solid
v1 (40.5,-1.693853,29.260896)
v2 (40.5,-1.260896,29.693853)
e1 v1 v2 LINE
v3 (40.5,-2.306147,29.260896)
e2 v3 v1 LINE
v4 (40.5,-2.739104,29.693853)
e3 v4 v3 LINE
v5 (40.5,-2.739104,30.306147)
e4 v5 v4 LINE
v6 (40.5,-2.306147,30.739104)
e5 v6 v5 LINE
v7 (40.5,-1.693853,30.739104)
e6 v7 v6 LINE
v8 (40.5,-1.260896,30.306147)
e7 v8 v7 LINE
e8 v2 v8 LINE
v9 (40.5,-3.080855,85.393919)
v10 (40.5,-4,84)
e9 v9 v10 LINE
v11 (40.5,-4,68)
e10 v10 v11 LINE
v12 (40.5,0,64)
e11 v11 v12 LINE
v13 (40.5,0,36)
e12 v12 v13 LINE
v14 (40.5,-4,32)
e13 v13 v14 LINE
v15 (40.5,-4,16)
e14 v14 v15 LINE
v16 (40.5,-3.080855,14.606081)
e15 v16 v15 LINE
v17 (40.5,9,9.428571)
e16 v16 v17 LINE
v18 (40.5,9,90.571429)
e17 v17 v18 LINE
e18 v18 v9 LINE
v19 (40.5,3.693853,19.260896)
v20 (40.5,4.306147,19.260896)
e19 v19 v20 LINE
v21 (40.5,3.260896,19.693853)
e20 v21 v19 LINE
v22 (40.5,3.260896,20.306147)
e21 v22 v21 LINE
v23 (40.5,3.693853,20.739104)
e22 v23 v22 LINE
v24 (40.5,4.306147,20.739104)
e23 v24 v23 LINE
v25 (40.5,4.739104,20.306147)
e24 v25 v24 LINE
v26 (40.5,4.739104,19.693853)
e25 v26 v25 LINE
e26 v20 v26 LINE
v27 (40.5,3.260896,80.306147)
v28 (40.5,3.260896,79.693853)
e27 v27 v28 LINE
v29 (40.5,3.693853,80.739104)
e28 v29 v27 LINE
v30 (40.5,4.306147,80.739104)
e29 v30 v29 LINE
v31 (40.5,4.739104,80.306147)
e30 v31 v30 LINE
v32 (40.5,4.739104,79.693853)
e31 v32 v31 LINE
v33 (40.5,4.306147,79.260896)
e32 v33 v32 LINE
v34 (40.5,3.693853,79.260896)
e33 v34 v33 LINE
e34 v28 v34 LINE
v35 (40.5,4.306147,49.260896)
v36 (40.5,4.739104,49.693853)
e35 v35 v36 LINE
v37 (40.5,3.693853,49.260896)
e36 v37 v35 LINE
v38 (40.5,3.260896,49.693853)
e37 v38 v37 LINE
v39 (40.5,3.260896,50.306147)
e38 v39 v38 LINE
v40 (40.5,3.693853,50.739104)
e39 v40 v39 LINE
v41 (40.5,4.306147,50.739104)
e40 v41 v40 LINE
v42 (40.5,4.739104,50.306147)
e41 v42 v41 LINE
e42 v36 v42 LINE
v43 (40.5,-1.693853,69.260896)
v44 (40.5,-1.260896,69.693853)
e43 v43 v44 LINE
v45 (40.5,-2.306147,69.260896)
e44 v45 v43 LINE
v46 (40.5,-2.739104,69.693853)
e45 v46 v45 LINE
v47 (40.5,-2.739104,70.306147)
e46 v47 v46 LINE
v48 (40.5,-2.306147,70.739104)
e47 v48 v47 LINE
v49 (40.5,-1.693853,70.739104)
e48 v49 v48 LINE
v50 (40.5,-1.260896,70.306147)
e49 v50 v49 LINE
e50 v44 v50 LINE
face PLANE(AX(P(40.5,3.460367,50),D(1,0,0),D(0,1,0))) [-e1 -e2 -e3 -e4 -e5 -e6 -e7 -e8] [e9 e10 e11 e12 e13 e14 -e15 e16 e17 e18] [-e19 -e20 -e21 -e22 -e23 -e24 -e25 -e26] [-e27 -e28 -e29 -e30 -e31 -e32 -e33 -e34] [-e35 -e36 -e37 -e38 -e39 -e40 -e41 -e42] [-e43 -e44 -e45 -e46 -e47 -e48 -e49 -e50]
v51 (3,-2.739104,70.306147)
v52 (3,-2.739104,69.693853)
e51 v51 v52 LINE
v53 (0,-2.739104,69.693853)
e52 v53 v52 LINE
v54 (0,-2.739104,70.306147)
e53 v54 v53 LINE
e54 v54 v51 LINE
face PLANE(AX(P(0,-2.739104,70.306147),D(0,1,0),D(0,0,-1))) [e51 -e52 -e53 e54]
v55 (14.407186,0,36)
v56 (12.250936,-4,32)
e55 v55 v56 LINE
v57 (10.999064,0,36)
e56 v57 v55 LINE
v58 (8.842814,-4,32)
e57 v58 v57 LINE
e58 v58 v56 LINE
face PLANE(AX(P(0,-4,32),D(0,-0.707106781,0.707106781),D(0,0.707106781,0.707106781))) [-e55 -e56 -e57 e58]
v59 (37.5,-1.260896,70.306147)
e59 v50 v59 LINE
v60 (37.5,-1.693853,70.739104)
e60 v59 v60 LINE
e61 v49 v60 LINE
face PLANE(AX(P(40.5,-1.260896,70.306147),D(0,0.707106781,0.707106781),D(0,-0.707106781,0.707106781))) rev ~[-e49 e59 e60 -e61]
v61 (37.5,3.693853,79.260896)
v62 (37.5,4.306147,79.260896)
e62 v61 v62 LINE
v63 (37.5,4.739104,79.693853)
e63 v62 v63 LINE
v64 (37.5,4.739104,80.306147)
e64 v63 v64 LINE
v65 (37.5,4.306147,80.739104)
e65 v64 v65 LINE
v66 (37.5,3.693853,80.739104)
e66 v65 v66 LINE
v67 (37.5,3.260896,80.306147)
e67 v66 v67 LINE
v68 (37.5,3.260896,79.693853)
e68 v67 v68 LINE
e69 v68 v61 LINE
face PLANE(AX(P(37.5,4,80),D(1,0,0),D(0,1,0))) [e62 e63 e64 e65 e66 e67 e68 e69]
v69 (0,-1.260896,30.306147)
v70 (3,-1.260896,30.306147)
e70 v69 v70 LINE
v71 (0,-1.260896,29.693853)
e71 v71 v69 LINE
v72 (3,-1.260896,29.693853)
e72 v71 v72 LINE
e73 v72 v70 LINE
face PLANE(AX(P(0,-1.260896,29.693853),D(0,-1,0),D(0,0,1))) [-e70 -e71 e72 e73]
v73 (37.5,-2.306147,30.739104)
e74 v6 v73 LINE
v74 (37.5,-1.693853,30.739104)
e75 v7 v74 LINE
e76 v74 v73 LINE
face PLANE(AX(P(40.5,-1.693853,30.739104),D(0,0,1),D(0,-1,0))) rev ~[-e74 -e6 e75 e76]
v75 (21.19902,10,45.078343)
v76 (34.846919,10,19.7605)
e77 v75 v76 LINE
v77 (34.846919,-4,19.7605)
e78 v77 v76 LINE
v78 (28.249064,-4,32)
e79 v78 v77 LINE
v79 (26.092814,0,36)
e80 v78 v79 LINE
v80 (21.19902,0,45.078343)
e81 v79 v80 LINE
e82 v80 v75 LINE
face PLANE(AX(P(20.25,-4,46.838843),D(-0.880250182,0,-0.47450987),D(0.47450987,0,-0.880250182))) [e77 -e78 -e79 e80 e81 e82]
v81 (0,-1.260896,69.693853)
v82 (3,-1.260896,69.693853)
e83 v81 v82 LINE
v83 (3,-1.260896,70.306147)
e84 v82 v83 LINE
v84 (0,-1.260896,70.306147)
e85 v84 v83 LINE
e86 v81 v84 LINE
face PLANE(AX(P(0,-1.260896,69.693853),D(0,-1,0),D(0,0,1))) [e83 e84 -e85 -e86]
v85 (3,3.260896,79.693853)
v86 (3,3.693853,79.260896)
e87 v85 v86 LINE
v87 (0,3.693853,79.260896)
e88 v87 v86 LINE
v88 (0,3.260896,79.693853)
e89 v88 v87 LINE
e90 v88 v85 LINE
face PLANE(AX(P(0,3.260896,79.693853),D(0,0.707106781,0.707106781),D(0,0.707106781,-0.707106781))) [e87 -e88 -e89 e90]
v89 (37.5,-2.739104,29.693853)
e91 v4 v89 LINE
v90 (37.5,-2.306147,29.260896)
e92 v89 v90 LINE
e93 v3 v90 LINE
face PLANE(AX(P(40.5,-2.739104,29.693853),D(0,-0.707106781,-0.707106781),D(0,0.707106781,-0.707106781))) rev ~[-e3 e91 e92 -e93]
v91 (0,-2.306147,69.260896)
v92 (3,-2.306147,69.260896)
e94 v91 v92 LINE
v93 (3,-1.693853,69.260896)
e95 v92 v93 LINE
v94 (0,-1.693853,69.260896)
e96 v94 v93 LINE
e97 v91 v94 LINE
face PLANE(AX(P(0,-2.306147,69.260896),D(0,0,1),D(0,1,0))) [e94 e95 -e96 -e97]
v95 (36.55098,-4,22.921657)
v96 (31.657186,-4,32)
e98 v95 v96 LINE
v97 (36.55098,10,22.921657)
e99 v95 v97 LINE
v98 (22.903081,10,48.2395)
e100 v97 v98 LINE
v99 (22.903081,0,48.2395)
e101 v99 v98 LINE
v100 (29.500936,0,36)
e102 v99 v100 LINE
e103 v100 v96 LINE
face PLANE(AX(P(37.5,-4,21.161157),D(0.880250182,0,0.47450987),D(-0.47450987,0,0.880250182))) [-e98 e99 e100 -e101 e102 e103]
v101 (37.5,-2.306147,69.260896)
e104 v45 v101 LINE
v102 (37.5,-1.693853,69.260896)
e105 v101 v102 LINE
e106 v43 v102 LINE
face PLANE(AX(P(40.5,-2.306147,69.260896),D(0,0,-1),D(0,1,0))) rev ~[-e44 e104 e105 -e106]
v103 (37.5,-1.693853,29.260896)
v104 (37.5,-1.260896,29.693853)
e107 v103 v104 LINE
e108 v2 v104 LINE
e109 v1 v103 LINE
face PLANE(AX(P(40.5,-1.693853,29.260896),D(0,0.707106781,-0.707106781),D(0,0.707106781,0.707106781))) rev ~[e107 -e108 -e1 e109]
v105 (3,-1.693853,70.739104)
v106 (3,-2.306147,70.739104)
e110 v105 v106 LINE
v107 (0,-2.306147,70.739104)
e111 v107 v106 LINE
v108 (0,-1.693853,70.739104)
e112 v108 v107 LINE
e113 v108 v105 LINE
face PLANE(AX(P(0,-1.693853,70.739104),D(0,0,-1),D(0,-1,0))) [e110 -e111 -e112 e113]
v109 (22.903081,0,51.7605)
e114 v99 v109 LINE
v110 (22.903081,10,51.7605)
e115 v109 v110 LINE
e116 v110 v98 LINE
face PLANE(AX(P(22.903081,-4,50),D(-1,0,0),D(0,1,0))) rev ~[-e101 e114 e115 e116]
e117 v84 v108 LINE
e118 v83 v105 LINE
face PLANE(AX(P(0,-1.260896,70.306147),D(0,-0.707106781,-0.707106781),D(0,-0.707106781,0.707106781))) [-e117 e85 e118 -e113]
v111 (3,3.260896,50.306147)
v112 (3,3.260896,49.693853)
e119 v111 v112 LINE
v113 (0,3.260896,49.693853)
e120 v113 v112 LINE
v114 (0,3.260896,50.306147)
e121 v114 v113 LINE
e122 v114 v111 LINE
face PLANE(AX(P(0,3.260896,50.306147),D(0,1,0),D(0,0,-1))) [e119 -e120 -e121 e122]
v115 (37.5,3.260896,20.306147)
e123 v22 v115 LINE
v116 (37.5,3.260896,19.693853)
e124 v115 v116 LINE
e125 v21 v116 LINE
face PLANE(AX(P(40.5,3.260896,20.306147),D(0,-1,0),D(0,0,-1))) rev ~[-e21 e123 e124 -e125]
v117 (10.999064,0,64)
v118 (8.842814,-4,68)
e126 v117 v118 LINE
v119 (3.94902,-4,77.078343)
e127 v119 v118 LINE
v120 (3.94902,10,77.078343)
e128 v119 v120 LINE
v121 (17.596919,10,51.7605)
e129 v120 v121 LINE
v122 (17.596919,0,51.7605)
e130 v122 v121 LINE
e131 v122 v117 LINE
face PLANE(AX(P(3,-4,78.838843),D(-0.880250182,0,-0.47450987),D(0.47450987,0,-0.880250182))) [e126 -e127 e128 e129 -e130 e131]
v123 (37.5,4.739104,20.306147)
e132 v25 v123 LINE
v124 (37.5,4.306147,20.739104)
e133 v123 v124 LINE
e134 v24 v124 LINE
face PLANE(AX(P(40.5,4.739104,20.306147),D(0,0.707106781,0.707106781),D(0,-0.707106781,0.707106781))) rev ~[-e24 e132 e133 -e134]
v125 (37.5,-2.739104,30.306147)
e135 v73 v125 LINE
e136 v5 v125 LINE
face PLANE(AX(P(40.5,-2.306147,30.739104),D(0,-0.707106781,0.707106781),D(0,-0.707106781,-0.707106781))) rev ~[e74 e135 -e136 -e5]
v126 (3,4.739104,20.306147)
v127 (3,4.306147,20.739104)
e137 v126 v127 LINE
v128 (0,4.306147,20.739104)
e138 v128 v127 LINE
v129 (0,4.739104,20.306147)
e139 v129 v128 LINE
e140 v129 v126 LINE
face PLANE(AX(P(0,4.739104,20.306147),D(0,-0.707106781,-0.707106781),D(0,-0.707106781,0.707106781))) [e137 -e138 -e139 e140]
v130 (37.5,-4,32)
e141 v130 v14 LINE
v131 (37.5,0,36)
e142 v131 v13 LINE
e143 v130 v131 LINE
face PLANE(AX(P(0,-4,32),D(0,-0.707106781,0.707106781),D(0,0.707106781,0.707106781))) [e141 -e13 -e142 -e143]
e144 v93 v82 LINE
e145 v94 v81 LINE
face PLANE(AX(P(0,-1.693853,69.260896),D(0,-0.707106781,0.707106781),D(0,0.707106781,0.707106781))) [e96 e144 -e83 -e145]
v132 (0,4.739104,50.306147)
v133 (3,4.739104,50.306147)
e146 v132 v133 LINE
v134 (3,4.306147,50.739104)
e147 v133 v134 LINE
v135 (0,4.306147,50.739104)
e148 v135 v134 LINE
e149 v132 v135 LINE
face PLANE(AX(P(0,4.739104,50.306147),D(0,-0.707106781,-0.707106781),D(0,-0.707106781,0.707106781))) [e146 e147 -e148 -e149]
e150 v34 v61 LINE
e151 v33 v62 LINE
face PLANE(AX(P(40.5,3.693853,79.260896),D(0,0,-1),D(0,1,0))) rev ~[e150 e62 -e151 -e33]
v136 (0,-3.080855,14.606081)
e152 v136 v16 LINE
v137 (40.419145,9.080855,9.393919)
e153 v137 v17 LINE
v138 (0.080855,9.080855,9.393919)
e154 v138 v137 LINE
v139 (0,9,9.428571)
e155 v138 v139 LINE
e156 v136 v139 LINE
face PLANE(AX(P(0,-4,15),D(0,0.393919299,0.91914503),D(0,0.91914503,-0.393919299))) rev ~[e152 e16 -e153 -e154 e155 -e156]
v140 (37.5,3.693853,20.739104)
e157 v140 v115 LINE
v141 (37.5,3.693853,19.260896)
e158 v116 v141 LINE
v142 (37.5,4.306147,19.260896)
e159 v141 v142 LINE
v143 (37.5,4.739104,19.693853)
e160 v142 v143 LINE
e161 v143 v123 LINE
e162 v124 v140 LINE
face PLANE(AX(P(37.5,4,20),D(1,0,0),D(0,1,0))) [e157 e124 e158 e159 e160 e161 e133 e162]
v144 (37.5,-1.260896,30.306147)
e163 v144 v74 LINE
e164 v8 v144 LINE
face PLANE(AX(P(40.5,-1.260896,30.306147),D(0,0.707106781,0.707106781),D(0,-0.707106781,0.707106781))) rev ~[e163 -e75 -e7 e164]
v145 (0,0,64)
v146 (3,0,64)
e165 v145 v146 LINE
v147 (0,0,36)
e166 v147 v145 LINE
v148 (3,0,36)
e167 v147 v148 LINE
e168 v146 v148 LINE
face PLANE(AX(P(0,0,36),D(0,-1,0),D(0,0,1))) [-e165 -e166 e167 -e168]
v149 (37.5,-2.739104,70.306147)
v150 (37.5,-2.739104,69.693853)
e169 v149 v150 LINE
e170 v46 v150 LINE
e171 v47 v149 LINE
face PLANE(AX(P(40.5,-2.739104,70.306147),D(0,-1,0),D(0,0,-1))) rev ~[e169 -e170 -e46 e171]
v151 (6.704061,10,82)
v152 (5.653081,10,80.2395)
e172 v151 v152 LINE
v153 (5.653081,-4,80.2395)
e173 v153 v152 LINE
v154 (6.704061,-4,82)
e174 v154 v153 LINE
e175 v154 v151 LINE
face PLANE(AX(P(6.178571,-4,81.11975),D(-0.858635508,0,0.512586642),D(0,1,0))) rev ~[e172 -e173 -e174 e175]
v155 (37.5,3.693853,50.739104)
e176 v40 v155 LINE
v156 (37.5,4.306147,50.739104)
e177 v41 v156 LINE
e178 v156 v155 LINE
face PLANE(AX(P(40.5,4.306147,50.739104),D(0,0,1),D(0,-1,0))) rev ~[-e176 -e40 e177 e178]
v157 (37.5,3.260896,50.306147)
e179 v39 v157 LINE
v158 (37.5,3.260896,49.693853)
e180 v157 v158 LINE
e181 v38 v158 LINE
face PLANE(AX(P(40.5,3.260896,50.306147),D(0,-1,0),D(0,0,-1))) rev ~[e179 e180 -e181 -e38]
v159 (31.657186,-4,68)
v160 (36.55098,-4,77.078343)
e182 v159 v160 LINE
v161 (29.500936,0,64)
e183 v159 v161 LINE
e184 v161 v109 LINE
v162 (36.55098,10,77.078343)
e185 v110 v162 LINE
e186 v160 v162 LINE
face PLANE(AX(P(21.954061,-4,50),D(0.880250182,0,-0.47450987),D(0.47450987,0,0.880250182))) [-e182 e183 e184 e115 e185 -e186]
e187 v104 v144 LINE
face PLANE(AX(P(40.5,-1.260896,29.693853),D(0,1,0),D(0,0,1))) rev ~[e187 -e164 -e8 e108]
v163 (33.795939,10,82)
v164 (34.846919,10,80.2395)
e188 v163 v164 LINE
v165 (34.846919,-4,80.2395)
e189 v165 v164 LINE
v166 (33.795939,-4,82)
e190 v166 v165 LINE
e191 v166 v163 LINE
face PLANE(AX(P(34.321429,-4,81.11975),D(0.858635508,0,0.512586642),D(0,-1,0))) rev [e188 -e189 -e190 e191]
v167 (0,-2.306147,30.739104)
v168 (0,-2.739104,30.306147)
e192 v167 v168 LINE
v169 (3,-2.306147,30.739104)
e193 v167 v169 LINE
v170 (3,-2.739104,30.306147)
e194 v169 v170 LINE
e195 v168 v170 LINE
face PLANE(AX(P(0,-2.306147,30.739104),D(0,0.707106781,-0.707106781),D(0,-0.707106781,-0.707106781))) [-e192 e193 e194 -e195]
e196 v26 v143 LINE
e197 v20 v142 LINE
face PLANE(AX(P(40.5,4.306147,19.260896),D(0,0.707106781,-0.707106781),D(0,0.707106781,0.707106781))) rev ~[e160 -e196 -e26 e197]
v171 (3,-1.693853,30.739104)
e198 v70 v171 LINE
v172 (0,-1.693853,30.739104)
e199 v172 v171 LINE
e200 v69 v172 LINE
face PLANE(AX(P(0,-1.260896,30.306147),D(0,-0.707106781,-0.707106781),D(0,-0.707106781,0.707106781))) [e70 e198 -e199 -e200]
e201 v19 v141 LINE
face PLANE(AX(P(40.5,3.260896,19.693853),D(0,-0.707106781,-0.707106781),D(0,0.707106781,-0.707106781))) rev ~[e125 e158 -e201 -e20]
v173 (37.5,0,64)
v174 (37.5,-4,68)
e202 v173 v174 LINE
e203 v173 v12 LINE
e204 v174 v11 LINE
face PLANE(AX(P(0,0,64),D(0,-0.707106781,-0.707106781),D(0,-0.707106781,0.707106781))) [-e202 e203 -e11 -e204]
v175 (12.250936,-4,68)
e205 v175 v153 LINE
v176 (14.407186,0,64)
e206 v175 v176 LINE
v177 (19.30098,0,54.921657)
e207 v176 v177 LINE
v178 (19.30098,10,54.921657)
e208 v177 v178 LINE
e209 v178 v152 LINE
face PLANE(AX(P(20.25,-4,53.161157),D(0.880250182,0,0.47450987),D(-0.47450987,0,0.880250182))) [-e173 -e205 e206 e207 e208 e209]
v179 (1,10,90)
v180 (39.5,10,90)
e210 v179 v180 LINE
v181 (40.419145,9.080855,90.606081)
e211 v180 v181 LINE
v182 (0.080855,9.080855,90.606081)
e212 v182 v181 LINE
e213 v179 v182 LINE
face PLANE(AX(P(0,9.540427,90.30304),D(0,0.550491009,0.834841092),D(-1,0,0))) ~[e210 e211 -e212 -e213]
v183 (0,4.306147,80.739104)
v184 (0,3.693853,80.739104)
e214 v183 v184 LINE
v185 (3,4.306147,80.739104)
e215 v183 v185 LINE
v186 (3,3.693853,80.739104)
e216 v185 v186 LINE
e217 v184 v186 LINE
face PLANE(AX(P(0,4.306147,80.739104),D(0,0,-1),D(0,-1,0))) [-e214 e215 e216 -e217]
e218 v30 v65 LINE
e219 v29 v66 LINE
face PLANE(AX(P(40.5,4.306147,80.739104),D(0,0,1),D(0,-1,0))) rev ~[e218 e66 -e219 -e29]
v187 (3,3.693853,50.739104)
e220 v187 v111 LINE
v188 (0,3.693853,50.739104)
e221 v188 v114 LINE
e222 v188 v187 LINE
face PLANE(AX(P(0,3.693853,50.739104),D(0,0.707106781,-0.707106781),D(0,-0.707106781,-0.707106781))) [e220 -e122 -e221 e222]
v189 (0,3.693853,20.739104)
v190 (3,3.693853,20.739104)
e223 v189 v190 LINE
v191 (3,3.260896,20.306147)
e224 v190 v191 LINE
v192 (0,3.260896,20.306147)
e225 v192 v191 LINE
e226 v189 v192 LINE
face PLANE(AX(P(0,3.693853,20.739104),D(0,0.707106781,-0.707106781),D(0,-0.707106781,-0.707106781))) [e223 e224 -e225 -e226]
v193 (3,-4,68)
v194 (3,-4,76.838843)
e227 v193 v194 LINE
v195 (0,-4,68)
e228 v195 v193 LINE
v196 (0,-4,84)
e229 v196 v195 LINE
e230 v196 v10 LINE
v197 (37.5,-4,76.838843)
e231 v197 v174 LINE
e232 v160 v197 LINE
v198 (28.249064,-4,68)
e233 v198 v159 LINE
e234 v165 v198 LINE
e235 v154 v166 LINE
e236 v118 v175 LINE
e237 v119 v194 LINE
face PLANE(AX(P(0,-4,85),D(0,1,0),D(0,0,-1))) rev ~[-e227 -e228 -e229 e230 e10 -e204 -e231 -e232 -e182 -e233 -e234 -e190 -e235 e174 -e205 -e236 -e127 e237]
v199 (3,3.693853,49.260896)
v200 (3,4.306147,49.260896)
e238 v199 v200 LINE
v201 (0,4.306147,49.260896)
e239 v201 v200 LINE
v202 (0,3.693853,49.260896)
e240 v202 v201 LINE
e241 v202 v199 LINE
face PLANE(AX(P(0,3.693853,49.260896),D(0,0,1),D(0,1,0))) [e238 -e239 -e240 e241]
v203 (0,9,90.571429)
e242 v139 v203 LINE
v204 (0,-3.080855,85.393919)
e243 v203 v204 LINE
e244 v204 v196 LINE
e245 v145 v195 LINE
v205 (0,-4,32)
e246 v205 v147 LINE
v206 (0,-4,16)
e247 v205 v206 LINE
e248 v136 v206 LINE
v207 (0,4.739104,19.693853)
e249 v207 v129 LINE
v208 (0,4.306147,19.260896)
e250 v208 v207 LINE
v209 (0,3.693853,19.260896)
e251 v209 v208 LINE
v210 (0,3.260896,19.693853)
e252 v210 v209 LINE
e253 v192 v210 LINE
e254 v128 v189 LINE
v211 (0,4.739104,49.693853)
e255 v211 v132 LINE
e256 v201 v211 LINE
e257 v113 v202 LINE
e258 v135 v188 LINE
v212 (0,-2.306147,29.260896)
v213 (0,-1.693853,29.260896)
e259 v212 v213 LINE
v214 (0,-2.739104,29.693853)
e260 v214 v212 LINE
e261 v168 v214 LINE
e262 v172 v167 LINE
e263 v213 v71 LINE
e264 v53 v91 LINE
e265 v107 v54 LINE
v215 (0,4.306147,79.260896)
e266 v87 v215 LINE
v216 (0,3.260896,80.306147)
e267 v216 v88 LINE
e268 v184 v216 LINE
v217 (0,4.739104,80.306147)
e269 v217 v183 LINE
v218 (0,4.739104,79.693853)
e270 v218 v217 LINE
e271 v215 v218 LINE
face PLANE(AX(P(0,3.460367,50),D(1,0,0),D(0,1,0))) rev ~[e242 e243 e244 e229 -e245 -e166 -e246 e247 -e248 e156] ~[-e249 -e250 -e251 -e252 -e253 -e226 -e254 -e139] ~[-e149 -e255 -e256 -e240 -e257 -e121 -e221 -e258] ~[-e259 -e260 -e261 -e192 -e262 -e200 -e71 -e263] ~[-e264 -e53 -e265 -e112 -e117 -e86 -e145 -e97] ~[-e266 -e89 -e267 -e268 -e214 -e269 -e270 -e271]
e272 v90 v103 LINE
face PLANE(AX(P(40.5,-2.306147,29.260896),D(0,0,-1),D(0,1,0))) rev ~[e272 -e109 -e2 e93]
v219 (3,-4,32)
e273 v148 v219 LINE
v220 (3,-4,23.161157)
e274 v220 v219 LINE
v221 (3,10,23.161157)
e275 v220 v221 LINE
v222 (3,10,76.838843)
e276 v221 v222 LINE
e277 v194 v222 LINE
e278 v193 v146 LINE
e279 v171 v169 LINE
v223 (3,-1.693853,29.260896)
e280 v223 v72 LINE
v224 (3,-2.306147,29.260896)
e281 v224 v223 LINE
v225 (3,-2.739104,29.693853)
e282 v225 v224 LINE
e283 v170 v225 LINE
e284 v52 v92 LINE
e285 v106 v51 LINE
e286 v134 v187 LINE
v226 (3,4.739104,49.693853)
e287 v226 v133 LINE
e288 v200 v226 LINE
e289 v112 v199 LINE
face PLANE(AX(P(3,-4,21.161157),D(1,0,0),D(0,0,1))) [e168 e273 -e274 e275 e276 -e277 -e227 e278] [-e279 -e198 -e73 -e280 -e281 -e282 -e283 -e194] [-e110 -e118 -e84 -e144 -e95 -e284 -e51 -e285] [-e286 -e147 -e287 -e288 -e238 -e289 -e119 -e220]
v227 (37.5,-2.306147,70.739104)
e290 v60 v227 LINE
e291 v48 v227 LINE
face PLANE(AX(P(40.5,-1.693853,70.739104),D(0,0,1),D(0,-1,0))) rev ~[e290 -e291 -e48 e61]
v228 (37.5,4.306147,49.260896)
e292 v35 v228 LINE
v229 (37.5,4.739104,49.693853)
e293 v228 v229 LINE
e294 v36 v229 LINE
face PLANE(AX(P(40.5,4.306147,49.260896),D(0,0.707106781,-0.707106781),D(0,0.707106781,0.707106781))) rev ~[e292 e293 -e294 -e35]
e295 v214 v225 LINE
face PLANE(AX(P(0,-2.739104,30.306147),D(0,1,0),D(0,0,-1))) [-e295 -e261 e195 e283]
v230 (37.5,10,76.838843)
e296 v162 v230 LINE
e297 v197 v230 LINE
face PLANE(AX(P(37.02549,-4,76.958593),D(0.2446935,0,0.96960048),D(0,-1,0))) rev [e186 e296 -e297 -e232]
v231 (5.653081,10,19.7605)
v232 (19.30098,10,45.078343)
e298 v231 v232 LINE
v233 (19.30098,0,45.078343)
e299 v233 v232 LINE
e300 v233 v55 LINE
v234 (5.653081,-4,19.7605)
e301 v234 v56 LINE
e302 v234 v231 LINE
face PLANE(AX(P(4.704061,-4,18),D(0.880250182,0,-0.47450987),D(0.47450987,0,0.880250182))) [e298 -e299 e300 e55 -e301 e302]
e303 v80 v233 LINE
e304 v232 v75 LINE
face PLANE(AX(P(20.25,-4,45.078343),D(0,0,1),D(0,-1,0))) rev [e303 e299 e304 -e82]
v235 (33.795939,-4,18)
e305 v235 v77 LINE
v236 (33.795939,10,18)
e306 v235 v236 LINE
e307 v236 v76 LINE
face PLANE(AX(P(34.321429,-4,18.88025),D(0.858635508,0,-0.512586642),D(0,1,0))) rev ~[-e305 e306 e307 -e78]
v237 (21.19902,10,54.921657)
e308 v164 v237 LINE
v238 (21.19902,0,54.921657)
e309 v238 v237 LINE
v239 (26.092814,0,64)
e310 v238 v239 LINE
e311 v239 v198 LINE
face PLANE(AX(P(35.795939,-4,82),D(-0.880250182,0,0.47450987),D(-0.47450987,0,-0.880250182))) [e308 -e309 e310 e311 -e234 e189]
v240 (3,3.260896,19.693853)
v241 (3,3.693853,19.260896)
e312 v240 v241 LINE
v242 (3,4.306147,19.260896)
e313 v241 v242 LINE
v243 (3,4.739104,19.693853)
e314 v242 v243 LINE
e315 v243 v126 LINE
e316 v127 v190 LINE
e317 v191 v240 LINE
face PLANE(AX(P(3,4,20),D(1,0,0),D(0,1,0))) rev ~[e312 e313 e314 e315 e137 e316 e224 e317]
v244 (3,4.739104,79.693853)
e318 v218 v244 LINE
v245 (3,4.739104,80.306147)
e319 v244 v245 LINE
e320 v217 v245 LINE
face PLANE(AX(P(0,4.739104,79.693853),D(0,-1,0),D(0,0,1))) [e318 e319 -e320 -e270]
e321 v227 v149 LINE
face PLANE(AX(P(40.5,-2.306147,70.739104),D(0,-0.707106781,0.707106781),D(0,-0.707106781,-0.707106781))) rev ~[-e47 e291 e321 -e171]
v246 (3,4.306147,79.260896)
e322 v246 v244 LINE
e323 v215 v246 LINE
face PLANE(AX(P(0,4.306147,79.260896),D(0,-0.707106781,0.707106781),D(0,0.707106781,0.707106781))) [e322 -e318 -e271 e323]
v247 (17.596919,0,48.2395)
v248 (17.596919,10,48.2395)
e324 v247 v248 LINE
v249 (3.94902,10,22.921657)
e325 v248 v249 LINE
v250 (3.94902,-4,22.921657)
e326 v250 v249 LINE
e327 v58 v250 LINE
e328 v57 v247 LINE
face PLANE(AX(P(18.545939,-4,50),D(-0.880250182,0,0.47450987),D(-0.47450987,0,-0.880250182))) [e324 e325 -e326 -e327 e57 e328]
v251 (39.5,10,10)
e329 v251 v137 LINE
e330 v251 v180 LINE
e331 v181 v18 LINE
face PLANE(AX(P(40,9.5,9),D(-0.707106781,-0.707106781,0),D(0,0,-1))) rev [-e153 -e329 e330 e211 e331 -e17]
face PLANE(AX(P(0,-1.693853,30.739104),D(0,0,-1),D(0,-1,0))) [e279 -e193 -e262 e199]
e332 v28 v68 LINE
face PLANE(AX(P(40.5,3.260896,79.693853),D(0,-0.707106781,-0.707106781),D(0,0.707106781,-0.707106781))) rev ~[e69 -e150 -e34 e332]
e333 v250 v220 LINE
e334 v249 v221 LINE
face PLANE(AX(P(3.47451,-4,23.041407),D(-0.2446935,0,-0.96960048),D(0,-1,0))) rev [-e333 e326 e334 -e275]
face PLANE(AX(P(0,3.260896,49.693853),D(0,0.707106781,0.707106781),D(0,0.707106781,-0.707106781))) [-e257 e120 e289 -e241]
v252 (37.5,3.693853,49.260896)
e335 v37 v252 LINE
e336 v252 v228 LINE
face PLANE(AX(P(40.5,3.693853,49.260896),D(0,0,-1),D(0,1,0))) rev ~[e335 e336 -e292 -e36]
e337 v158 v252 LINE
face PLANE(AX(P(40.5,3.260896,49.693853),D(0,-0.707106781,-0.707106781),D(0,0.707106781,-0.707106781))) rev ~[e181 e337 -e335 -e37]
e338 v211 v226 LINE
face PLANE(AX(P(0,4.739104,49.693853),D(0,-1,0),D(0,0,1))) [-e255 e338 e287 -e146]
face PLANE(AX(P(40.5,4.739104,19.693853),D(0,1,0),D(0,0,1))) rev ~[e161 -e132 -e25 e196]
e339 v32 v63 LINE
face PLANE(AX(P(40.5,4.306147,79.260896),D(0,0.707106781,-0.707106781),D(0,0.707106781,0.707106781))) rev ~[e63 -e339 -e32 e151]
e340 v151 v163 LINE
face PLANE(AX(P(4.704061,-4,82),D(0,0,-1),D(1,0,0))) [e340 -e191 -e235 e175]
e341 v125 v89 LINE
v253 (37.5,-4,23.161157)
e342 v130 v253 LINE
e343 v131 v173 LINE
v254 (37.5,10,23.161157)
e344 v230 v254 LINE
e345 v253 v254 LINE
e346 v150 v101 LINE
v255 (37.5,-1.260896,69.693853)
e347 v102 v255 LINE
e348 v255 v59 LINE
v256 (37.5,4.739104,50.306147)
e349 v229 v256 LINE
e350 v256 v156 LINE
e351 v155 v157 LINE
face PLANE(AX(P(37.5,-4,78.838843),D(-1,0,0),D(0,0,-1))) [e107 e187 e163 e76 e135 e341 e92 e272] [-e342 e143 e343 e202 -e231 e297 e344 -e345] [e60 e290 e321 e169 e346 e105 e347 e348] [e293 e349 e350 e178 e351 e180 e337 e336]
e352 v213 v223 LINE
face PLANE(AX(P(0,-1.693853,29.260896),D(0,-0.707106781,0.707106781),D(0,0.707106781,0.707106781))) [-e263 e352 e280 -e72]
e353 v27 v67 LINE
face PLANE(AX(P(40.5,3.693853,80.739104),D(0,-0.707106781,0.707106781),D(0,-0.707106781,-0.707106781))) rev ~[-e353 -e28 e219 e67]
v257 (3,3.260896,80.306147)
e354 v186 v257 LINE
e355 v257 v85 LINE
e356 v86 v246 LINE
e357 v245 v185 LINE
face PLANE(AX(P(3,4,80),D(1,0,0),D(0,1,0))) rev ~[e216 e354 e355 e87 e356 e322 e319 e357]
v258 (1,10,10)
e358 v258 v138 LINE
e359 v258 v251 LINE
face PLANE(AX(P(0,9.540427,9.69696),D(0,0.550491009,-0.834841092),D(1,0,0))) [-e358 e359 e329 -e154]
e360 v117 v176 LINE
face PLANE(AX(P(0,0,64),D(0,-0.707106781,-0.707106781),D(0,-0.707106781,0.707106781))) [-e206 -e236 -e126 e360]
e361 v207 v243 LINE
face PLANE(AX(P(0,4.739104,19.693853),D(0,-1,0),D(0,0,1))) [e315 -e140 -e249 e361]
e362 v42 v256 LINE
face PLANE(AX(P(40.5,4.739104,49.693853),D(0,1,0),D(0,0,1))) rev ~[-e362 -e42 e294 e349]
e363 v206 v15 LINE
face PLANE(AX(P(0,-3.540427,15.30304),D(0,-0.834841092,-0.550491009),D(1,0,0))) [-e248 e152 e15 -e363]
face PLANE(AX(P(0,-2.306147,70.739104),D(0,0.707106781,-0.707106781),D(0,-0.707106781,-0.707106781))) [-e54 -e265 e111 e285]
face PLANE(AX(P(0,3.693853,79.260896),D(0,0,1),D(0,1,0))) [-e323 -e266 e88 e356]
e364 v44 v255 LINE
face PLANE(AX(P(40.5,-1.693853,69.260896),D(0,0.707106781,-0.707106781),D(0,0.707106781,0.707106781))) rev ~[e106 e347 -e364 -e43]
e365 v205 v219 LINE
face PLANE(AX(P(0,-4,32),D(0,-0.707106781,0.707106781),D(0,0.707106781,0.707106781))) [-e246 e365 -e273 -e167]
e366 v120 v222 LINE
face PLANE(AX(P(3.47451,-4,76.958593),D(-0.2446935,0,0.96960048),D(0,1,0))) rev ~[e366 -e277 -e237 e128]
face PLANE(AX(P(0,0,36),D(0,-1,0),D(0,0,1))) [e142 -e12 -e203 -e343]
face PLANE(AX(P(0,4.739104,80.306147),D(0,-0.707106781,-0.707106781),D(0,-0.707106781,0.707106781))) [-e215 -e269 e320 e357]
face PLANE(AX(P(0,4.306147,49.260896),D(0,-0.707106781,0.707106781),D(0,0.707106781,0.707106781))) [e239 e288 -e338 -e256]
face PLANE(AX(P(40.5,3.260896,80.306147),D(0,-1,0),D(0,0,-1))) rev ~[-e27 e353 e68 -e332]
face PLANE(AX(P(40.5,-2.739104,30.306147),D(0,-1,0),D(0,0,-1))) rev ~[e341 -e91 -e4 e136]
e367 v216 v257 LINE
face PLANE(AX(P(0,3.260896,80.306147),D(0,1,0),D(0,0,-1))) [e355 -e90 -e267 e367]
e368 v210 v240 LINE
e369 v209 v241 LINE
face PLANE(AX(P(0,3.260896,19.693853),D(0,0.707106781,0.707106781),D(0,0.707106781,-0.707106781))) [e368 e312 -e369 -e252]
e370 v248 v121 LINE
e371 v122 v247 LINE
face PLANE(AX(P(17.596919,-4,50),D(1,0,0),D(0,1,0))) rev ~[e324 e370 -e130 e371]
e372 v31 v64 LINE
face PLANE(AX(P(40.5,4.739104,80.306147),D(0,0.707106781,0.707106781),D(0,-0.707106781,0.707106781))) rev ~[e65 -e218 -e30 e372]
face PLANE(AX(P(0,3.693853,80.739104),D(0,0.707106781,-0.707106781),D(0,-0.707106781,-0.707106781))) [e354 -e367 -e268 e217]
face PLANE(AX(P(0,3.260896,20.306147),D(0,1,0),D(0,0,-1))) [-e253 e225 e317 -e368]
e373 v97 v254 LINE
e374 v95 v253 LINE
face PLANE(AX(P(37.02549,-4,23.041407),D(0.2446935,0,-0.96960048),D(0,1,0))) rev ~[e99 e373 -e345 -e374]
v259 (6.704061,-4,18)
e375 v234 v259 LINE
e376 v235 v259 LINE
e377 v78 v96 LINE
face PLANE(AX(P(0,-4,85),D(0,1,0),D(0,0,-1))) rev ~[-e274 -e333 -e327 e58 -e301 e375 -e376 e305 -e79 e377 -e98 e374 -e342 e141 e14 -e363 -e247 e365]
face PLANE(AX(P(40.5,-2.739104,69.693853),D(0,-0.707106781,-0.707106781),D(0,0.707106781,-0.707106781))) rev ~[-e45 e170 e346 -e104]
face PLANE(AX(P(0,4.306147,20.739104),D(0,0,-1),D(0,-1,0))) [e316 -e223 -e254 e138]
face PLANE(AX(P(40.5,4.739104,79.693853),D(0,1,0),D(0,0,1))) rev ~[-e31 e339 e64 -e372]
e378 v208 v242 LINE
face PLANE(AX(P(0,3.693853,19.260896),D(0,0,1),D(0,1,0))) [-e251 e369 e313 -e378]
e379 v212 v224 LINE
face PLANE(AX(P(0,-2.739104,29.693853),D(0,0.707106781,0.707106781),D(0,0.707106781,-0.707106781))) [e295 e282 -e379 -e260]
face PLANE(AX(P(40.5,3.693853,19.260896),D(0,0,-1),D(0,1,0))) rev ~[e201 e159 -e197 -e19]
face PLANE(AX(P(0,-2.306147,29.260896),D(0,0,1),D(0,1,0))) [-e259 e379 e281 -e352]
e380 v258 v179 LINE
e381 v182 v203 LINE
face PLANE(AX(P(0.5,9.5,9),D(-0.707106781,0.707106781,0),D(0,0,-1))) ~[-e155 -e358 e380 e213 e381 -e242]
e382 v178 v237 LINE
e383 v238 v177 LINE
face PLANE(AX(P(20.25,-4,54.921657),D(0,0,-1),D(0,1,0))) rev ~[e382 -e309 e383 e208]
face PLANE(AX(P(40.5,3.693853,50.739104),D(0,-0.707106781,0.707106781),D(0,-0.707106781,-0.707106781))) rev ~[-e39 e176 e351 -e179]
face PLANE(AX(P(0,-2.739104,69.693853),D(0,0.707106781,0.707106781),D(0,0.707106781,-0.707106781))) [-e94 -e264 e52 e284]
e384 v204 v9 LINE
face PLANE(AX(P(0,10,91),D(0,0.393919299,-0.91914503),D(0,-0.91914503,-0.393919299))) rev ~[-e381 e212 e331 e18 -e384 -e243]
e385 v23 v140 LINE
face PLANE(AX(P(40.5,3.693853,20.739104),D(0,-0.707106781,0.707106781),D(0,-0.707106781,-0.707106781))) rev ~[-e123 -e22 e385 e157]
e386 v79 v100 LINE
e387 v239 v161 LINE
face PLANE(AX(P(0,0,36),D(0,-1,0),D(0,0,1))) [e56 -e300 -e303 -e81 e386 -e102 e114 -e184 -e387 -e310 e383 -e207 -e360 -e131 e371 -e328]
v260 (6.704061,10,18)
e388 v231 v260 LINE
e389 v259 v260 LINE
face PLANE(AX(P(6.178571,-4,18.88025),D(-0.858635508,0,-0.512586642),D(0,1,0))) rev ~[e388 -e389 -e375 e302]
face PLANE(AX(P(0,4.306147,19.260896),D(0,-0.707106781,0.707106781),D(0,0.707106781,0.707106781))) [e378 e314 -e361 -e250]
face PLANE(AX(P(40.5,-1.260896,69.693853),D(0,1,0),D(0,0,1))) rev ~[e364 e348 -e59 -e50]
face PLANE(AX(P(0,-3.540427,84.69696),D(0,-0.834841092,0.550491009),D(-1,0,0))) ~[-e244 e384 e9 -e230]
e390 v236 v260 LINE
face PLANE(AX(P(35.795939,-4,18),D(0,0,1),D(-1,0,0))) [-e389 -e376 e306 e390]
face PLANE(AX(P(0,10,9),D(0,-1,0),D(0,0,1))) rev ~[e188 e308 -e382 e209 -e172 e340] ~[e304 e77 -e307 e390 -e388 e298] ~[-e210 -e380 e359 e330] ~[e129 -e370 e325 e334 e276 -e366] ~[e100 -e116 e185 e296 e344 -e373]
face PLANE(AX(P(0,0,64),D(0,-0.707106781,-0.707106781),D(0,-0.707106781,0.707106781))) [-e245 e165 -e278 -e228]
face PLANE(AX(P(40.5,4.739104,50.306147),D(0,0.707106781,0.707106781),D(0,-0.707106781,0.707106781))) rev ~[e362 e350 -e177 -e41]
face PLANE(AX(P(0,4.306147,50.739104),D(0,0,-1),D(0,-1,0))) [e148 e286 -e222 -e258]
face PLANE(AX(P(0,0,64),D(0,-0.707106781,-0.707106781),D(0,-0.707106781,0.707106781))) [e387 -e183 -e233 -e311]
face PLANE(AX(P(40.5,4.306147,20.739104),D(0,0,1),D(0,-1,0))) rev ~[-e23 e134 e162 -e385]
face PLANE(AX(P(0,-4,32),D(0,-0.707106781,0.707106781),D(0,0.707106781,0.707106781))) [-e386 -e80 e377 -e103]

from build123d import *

# Parameters (mm, degrees)
PAD_DEPTH       = 40.5
POCKET_DEPTH    = 14.001
CHAMFER_SIZE    = 2
POCKET001_DEPTH = 3
POCKET002_DEPTH = 3
POCKET003_DEPTH = 40.501
CHAMFER001_SIZE = 1


with BuildPart() as part:
    # Sketch → Pad (new body)
    with BuildSketch(Plane.YZ):
        Polygon((10, 9), (10, 91), (-4, 85), (-4, 15), align=None)
    extrude(amount=PAD_DEPTH)

    # Sketch001 (on Face1 of Pad) → Pocket (cut, through all)
    with BuildSketch(Plane(origin=(0, -4, 0), x_dir=(0, 0, -1), z_dir=(0, -1, 0))):
        Polygon((-78.838843, 37.5), (-21.161157, 37.5), (-50, 21.954061), align=None)
        Polygon((-82, 35.795939), (-53.161157, 20.25), (-82, 4.704061), align=None)
        Polygon((-21.161157, 3), (-78.838843, 3), (-50, 18.545939), align=None)
        Polygon((-46.838843, 20.25), (-18, 35.795939), (-18, 4.704061), align=None)
    extrude(amount=-POCKET_DEPTH, mode=Mode.SUBTRACT)

    # Chamfer
    chamfer_edges = [part.edges().sort_by_distance(p)[0] for p in [
        (3, 3, 78.838843),
        (18.545939, 3, 50),
        (35.795939, 3, 18),
        (20.25, 3, 46.838843),
        (37.5, 3, 78.838843),
        (4.704061, 3, 18),
        (37.5, 3, 21.161157),
        (21.954061, 3, 50),
        (4.704061, 3, 82),
        (20.25, 3, 53.161157),
        (35.795939, 3, 82),
        (3, 3, 21.161157),
    ]]
    chamfer(chamfer_edges, length=CHAMFER_SIZE)

    # Sketch002 (on Face10 of Chamfer) → Pocket001 (cut)
    with BuildSketch(Plane.YZ.offset(40.5)):
        Polygon((3.693853, 80.739104), (3.260896, 80.306147), (3.260896, 79.693853), (3.693853, 79.260896), (4.306147, 79.260896), (4.739104, 79.693853), (4.739104, 80.306147), (4.306147, 80.739104), align=None)
        Polygon((3.693853, 50.739104), (3.260896, 50.306147), (3.260896, 49.693853), (3.693853, 49.260896), (4.306147, 49.260896), (4.739104, 49.693853), (4.739104, 50.306147), (4.306147, 50.739104), align=None)
        Polygon((3.693853, 20.739104), (3.260896, 20.306147), (3.260896, 19.693853), (3.693853, 19.260896), (4.306147, 19.260896), (4.739104, 19.693853), (4.739104, 20.306147), (4.306147, 20.739104), align=None)
        Polygon((-1.693853, 69.260896), (-1.260896, 69.693853), (-1.260896, 70.306147), (-1.693853, 70.739104), (-2.306147, 70.739104), (-2.739104, 70.306147), (-2.739104, 69.693853), (-2.306147, 69.260896), align=None)
        Polygon((-1.693853, 29.260896), (-1.260896, 29.693853), (-1.260896, 30.306147), (-1.693853, 30.739104), (-2.306147, 30.739104), (-2.739104, 30.306147), (-2.739104, 29.693853), (-2.306147, 29.260896), align=None)
    extrude(amount=-POCKET001_DEPTH, mode=Mode.SUBTRACT)

    # Sketch003 (on Face9 of Pocket001) → Pocket002 (cut)
    with BuildSketch(Plane.YZ):
        Polygon((3.693853, 80.739104), (3.260896, 80.306147), (3.260896, 79.693853), (3.693853, 79.260896), (4.306147, 79.260896), (4.739104, 79.693853), (4.739104, 80.306147), (4.306147, 80.739104), align=None)
        Polygon((3.693853, 50.739104), (3.260896, 50.306147), (3.260896, 49.693853), (3.693853, 49.260896), (4.306147, 49.260896), (4.739104, 49.693853), (4.739104, 50.306147), (4.306147, 50.739104), align=None)
        Polygon((3.693853, 20.739104), (3.260896, 20.306147), (3.260896, 19.693853), (3.693853, 19.260896), (4.306147, 19.260896), (4.739104, 19.693853), (4.739104, 20.306147), (4.306147, 20.739104), align=None)
        Polygon((-1.693853, 69.260896), (-1.260896, 69.693853), (-1.260896, 70.306147), (-1.693853, 70.739104), (-2.306147, 70.739104), (-2.739104, 70.306147), (-2.739104, 69.693853), (-2.306147, 69.260896), align=None)
        Polygon((-1.693853, 29.260896), (-1.260896, 29.693853), (-1.260896, 30.306147), (-1.693853, 30.739104), (-2.306147, 30.739104), (-2.739104, 30.306147), (-2.739104, 29.693853), (-2.306147, 29.260896), align=None)
    extrude(amount=POCKET002_DEPTH, mode=Mode.SUBTRACT)

    # Sketch004 → Pocket003 (cut, through all)
    with BuildSketch(Plane(origin=(0, 0, 0), x_dir=(0, 1, 0), z_dir=(-1, 0, 0))):
        Polygon((-4, -32), (0, -36), (0, -64), (-4, -68), align=None)
    extrude(amount=-POCKET003_DEPTH, mode=Mode.SUBTRACT)

    # Chamfer001
    chamfer001_edges = [part.edges().sort_by_distance(p)[0] for p in [
        (20.25, 10, 91),
        (20.25, 10, 9),
        (0, 10, 50),
        (40.5, 10, 50),
        (20.25, -4, 85),
        (20.25, -4, 15),
    ]]
    chamfer(chamfer001_edges, length=CHAMFER001_SIZE)


solid = part.part
